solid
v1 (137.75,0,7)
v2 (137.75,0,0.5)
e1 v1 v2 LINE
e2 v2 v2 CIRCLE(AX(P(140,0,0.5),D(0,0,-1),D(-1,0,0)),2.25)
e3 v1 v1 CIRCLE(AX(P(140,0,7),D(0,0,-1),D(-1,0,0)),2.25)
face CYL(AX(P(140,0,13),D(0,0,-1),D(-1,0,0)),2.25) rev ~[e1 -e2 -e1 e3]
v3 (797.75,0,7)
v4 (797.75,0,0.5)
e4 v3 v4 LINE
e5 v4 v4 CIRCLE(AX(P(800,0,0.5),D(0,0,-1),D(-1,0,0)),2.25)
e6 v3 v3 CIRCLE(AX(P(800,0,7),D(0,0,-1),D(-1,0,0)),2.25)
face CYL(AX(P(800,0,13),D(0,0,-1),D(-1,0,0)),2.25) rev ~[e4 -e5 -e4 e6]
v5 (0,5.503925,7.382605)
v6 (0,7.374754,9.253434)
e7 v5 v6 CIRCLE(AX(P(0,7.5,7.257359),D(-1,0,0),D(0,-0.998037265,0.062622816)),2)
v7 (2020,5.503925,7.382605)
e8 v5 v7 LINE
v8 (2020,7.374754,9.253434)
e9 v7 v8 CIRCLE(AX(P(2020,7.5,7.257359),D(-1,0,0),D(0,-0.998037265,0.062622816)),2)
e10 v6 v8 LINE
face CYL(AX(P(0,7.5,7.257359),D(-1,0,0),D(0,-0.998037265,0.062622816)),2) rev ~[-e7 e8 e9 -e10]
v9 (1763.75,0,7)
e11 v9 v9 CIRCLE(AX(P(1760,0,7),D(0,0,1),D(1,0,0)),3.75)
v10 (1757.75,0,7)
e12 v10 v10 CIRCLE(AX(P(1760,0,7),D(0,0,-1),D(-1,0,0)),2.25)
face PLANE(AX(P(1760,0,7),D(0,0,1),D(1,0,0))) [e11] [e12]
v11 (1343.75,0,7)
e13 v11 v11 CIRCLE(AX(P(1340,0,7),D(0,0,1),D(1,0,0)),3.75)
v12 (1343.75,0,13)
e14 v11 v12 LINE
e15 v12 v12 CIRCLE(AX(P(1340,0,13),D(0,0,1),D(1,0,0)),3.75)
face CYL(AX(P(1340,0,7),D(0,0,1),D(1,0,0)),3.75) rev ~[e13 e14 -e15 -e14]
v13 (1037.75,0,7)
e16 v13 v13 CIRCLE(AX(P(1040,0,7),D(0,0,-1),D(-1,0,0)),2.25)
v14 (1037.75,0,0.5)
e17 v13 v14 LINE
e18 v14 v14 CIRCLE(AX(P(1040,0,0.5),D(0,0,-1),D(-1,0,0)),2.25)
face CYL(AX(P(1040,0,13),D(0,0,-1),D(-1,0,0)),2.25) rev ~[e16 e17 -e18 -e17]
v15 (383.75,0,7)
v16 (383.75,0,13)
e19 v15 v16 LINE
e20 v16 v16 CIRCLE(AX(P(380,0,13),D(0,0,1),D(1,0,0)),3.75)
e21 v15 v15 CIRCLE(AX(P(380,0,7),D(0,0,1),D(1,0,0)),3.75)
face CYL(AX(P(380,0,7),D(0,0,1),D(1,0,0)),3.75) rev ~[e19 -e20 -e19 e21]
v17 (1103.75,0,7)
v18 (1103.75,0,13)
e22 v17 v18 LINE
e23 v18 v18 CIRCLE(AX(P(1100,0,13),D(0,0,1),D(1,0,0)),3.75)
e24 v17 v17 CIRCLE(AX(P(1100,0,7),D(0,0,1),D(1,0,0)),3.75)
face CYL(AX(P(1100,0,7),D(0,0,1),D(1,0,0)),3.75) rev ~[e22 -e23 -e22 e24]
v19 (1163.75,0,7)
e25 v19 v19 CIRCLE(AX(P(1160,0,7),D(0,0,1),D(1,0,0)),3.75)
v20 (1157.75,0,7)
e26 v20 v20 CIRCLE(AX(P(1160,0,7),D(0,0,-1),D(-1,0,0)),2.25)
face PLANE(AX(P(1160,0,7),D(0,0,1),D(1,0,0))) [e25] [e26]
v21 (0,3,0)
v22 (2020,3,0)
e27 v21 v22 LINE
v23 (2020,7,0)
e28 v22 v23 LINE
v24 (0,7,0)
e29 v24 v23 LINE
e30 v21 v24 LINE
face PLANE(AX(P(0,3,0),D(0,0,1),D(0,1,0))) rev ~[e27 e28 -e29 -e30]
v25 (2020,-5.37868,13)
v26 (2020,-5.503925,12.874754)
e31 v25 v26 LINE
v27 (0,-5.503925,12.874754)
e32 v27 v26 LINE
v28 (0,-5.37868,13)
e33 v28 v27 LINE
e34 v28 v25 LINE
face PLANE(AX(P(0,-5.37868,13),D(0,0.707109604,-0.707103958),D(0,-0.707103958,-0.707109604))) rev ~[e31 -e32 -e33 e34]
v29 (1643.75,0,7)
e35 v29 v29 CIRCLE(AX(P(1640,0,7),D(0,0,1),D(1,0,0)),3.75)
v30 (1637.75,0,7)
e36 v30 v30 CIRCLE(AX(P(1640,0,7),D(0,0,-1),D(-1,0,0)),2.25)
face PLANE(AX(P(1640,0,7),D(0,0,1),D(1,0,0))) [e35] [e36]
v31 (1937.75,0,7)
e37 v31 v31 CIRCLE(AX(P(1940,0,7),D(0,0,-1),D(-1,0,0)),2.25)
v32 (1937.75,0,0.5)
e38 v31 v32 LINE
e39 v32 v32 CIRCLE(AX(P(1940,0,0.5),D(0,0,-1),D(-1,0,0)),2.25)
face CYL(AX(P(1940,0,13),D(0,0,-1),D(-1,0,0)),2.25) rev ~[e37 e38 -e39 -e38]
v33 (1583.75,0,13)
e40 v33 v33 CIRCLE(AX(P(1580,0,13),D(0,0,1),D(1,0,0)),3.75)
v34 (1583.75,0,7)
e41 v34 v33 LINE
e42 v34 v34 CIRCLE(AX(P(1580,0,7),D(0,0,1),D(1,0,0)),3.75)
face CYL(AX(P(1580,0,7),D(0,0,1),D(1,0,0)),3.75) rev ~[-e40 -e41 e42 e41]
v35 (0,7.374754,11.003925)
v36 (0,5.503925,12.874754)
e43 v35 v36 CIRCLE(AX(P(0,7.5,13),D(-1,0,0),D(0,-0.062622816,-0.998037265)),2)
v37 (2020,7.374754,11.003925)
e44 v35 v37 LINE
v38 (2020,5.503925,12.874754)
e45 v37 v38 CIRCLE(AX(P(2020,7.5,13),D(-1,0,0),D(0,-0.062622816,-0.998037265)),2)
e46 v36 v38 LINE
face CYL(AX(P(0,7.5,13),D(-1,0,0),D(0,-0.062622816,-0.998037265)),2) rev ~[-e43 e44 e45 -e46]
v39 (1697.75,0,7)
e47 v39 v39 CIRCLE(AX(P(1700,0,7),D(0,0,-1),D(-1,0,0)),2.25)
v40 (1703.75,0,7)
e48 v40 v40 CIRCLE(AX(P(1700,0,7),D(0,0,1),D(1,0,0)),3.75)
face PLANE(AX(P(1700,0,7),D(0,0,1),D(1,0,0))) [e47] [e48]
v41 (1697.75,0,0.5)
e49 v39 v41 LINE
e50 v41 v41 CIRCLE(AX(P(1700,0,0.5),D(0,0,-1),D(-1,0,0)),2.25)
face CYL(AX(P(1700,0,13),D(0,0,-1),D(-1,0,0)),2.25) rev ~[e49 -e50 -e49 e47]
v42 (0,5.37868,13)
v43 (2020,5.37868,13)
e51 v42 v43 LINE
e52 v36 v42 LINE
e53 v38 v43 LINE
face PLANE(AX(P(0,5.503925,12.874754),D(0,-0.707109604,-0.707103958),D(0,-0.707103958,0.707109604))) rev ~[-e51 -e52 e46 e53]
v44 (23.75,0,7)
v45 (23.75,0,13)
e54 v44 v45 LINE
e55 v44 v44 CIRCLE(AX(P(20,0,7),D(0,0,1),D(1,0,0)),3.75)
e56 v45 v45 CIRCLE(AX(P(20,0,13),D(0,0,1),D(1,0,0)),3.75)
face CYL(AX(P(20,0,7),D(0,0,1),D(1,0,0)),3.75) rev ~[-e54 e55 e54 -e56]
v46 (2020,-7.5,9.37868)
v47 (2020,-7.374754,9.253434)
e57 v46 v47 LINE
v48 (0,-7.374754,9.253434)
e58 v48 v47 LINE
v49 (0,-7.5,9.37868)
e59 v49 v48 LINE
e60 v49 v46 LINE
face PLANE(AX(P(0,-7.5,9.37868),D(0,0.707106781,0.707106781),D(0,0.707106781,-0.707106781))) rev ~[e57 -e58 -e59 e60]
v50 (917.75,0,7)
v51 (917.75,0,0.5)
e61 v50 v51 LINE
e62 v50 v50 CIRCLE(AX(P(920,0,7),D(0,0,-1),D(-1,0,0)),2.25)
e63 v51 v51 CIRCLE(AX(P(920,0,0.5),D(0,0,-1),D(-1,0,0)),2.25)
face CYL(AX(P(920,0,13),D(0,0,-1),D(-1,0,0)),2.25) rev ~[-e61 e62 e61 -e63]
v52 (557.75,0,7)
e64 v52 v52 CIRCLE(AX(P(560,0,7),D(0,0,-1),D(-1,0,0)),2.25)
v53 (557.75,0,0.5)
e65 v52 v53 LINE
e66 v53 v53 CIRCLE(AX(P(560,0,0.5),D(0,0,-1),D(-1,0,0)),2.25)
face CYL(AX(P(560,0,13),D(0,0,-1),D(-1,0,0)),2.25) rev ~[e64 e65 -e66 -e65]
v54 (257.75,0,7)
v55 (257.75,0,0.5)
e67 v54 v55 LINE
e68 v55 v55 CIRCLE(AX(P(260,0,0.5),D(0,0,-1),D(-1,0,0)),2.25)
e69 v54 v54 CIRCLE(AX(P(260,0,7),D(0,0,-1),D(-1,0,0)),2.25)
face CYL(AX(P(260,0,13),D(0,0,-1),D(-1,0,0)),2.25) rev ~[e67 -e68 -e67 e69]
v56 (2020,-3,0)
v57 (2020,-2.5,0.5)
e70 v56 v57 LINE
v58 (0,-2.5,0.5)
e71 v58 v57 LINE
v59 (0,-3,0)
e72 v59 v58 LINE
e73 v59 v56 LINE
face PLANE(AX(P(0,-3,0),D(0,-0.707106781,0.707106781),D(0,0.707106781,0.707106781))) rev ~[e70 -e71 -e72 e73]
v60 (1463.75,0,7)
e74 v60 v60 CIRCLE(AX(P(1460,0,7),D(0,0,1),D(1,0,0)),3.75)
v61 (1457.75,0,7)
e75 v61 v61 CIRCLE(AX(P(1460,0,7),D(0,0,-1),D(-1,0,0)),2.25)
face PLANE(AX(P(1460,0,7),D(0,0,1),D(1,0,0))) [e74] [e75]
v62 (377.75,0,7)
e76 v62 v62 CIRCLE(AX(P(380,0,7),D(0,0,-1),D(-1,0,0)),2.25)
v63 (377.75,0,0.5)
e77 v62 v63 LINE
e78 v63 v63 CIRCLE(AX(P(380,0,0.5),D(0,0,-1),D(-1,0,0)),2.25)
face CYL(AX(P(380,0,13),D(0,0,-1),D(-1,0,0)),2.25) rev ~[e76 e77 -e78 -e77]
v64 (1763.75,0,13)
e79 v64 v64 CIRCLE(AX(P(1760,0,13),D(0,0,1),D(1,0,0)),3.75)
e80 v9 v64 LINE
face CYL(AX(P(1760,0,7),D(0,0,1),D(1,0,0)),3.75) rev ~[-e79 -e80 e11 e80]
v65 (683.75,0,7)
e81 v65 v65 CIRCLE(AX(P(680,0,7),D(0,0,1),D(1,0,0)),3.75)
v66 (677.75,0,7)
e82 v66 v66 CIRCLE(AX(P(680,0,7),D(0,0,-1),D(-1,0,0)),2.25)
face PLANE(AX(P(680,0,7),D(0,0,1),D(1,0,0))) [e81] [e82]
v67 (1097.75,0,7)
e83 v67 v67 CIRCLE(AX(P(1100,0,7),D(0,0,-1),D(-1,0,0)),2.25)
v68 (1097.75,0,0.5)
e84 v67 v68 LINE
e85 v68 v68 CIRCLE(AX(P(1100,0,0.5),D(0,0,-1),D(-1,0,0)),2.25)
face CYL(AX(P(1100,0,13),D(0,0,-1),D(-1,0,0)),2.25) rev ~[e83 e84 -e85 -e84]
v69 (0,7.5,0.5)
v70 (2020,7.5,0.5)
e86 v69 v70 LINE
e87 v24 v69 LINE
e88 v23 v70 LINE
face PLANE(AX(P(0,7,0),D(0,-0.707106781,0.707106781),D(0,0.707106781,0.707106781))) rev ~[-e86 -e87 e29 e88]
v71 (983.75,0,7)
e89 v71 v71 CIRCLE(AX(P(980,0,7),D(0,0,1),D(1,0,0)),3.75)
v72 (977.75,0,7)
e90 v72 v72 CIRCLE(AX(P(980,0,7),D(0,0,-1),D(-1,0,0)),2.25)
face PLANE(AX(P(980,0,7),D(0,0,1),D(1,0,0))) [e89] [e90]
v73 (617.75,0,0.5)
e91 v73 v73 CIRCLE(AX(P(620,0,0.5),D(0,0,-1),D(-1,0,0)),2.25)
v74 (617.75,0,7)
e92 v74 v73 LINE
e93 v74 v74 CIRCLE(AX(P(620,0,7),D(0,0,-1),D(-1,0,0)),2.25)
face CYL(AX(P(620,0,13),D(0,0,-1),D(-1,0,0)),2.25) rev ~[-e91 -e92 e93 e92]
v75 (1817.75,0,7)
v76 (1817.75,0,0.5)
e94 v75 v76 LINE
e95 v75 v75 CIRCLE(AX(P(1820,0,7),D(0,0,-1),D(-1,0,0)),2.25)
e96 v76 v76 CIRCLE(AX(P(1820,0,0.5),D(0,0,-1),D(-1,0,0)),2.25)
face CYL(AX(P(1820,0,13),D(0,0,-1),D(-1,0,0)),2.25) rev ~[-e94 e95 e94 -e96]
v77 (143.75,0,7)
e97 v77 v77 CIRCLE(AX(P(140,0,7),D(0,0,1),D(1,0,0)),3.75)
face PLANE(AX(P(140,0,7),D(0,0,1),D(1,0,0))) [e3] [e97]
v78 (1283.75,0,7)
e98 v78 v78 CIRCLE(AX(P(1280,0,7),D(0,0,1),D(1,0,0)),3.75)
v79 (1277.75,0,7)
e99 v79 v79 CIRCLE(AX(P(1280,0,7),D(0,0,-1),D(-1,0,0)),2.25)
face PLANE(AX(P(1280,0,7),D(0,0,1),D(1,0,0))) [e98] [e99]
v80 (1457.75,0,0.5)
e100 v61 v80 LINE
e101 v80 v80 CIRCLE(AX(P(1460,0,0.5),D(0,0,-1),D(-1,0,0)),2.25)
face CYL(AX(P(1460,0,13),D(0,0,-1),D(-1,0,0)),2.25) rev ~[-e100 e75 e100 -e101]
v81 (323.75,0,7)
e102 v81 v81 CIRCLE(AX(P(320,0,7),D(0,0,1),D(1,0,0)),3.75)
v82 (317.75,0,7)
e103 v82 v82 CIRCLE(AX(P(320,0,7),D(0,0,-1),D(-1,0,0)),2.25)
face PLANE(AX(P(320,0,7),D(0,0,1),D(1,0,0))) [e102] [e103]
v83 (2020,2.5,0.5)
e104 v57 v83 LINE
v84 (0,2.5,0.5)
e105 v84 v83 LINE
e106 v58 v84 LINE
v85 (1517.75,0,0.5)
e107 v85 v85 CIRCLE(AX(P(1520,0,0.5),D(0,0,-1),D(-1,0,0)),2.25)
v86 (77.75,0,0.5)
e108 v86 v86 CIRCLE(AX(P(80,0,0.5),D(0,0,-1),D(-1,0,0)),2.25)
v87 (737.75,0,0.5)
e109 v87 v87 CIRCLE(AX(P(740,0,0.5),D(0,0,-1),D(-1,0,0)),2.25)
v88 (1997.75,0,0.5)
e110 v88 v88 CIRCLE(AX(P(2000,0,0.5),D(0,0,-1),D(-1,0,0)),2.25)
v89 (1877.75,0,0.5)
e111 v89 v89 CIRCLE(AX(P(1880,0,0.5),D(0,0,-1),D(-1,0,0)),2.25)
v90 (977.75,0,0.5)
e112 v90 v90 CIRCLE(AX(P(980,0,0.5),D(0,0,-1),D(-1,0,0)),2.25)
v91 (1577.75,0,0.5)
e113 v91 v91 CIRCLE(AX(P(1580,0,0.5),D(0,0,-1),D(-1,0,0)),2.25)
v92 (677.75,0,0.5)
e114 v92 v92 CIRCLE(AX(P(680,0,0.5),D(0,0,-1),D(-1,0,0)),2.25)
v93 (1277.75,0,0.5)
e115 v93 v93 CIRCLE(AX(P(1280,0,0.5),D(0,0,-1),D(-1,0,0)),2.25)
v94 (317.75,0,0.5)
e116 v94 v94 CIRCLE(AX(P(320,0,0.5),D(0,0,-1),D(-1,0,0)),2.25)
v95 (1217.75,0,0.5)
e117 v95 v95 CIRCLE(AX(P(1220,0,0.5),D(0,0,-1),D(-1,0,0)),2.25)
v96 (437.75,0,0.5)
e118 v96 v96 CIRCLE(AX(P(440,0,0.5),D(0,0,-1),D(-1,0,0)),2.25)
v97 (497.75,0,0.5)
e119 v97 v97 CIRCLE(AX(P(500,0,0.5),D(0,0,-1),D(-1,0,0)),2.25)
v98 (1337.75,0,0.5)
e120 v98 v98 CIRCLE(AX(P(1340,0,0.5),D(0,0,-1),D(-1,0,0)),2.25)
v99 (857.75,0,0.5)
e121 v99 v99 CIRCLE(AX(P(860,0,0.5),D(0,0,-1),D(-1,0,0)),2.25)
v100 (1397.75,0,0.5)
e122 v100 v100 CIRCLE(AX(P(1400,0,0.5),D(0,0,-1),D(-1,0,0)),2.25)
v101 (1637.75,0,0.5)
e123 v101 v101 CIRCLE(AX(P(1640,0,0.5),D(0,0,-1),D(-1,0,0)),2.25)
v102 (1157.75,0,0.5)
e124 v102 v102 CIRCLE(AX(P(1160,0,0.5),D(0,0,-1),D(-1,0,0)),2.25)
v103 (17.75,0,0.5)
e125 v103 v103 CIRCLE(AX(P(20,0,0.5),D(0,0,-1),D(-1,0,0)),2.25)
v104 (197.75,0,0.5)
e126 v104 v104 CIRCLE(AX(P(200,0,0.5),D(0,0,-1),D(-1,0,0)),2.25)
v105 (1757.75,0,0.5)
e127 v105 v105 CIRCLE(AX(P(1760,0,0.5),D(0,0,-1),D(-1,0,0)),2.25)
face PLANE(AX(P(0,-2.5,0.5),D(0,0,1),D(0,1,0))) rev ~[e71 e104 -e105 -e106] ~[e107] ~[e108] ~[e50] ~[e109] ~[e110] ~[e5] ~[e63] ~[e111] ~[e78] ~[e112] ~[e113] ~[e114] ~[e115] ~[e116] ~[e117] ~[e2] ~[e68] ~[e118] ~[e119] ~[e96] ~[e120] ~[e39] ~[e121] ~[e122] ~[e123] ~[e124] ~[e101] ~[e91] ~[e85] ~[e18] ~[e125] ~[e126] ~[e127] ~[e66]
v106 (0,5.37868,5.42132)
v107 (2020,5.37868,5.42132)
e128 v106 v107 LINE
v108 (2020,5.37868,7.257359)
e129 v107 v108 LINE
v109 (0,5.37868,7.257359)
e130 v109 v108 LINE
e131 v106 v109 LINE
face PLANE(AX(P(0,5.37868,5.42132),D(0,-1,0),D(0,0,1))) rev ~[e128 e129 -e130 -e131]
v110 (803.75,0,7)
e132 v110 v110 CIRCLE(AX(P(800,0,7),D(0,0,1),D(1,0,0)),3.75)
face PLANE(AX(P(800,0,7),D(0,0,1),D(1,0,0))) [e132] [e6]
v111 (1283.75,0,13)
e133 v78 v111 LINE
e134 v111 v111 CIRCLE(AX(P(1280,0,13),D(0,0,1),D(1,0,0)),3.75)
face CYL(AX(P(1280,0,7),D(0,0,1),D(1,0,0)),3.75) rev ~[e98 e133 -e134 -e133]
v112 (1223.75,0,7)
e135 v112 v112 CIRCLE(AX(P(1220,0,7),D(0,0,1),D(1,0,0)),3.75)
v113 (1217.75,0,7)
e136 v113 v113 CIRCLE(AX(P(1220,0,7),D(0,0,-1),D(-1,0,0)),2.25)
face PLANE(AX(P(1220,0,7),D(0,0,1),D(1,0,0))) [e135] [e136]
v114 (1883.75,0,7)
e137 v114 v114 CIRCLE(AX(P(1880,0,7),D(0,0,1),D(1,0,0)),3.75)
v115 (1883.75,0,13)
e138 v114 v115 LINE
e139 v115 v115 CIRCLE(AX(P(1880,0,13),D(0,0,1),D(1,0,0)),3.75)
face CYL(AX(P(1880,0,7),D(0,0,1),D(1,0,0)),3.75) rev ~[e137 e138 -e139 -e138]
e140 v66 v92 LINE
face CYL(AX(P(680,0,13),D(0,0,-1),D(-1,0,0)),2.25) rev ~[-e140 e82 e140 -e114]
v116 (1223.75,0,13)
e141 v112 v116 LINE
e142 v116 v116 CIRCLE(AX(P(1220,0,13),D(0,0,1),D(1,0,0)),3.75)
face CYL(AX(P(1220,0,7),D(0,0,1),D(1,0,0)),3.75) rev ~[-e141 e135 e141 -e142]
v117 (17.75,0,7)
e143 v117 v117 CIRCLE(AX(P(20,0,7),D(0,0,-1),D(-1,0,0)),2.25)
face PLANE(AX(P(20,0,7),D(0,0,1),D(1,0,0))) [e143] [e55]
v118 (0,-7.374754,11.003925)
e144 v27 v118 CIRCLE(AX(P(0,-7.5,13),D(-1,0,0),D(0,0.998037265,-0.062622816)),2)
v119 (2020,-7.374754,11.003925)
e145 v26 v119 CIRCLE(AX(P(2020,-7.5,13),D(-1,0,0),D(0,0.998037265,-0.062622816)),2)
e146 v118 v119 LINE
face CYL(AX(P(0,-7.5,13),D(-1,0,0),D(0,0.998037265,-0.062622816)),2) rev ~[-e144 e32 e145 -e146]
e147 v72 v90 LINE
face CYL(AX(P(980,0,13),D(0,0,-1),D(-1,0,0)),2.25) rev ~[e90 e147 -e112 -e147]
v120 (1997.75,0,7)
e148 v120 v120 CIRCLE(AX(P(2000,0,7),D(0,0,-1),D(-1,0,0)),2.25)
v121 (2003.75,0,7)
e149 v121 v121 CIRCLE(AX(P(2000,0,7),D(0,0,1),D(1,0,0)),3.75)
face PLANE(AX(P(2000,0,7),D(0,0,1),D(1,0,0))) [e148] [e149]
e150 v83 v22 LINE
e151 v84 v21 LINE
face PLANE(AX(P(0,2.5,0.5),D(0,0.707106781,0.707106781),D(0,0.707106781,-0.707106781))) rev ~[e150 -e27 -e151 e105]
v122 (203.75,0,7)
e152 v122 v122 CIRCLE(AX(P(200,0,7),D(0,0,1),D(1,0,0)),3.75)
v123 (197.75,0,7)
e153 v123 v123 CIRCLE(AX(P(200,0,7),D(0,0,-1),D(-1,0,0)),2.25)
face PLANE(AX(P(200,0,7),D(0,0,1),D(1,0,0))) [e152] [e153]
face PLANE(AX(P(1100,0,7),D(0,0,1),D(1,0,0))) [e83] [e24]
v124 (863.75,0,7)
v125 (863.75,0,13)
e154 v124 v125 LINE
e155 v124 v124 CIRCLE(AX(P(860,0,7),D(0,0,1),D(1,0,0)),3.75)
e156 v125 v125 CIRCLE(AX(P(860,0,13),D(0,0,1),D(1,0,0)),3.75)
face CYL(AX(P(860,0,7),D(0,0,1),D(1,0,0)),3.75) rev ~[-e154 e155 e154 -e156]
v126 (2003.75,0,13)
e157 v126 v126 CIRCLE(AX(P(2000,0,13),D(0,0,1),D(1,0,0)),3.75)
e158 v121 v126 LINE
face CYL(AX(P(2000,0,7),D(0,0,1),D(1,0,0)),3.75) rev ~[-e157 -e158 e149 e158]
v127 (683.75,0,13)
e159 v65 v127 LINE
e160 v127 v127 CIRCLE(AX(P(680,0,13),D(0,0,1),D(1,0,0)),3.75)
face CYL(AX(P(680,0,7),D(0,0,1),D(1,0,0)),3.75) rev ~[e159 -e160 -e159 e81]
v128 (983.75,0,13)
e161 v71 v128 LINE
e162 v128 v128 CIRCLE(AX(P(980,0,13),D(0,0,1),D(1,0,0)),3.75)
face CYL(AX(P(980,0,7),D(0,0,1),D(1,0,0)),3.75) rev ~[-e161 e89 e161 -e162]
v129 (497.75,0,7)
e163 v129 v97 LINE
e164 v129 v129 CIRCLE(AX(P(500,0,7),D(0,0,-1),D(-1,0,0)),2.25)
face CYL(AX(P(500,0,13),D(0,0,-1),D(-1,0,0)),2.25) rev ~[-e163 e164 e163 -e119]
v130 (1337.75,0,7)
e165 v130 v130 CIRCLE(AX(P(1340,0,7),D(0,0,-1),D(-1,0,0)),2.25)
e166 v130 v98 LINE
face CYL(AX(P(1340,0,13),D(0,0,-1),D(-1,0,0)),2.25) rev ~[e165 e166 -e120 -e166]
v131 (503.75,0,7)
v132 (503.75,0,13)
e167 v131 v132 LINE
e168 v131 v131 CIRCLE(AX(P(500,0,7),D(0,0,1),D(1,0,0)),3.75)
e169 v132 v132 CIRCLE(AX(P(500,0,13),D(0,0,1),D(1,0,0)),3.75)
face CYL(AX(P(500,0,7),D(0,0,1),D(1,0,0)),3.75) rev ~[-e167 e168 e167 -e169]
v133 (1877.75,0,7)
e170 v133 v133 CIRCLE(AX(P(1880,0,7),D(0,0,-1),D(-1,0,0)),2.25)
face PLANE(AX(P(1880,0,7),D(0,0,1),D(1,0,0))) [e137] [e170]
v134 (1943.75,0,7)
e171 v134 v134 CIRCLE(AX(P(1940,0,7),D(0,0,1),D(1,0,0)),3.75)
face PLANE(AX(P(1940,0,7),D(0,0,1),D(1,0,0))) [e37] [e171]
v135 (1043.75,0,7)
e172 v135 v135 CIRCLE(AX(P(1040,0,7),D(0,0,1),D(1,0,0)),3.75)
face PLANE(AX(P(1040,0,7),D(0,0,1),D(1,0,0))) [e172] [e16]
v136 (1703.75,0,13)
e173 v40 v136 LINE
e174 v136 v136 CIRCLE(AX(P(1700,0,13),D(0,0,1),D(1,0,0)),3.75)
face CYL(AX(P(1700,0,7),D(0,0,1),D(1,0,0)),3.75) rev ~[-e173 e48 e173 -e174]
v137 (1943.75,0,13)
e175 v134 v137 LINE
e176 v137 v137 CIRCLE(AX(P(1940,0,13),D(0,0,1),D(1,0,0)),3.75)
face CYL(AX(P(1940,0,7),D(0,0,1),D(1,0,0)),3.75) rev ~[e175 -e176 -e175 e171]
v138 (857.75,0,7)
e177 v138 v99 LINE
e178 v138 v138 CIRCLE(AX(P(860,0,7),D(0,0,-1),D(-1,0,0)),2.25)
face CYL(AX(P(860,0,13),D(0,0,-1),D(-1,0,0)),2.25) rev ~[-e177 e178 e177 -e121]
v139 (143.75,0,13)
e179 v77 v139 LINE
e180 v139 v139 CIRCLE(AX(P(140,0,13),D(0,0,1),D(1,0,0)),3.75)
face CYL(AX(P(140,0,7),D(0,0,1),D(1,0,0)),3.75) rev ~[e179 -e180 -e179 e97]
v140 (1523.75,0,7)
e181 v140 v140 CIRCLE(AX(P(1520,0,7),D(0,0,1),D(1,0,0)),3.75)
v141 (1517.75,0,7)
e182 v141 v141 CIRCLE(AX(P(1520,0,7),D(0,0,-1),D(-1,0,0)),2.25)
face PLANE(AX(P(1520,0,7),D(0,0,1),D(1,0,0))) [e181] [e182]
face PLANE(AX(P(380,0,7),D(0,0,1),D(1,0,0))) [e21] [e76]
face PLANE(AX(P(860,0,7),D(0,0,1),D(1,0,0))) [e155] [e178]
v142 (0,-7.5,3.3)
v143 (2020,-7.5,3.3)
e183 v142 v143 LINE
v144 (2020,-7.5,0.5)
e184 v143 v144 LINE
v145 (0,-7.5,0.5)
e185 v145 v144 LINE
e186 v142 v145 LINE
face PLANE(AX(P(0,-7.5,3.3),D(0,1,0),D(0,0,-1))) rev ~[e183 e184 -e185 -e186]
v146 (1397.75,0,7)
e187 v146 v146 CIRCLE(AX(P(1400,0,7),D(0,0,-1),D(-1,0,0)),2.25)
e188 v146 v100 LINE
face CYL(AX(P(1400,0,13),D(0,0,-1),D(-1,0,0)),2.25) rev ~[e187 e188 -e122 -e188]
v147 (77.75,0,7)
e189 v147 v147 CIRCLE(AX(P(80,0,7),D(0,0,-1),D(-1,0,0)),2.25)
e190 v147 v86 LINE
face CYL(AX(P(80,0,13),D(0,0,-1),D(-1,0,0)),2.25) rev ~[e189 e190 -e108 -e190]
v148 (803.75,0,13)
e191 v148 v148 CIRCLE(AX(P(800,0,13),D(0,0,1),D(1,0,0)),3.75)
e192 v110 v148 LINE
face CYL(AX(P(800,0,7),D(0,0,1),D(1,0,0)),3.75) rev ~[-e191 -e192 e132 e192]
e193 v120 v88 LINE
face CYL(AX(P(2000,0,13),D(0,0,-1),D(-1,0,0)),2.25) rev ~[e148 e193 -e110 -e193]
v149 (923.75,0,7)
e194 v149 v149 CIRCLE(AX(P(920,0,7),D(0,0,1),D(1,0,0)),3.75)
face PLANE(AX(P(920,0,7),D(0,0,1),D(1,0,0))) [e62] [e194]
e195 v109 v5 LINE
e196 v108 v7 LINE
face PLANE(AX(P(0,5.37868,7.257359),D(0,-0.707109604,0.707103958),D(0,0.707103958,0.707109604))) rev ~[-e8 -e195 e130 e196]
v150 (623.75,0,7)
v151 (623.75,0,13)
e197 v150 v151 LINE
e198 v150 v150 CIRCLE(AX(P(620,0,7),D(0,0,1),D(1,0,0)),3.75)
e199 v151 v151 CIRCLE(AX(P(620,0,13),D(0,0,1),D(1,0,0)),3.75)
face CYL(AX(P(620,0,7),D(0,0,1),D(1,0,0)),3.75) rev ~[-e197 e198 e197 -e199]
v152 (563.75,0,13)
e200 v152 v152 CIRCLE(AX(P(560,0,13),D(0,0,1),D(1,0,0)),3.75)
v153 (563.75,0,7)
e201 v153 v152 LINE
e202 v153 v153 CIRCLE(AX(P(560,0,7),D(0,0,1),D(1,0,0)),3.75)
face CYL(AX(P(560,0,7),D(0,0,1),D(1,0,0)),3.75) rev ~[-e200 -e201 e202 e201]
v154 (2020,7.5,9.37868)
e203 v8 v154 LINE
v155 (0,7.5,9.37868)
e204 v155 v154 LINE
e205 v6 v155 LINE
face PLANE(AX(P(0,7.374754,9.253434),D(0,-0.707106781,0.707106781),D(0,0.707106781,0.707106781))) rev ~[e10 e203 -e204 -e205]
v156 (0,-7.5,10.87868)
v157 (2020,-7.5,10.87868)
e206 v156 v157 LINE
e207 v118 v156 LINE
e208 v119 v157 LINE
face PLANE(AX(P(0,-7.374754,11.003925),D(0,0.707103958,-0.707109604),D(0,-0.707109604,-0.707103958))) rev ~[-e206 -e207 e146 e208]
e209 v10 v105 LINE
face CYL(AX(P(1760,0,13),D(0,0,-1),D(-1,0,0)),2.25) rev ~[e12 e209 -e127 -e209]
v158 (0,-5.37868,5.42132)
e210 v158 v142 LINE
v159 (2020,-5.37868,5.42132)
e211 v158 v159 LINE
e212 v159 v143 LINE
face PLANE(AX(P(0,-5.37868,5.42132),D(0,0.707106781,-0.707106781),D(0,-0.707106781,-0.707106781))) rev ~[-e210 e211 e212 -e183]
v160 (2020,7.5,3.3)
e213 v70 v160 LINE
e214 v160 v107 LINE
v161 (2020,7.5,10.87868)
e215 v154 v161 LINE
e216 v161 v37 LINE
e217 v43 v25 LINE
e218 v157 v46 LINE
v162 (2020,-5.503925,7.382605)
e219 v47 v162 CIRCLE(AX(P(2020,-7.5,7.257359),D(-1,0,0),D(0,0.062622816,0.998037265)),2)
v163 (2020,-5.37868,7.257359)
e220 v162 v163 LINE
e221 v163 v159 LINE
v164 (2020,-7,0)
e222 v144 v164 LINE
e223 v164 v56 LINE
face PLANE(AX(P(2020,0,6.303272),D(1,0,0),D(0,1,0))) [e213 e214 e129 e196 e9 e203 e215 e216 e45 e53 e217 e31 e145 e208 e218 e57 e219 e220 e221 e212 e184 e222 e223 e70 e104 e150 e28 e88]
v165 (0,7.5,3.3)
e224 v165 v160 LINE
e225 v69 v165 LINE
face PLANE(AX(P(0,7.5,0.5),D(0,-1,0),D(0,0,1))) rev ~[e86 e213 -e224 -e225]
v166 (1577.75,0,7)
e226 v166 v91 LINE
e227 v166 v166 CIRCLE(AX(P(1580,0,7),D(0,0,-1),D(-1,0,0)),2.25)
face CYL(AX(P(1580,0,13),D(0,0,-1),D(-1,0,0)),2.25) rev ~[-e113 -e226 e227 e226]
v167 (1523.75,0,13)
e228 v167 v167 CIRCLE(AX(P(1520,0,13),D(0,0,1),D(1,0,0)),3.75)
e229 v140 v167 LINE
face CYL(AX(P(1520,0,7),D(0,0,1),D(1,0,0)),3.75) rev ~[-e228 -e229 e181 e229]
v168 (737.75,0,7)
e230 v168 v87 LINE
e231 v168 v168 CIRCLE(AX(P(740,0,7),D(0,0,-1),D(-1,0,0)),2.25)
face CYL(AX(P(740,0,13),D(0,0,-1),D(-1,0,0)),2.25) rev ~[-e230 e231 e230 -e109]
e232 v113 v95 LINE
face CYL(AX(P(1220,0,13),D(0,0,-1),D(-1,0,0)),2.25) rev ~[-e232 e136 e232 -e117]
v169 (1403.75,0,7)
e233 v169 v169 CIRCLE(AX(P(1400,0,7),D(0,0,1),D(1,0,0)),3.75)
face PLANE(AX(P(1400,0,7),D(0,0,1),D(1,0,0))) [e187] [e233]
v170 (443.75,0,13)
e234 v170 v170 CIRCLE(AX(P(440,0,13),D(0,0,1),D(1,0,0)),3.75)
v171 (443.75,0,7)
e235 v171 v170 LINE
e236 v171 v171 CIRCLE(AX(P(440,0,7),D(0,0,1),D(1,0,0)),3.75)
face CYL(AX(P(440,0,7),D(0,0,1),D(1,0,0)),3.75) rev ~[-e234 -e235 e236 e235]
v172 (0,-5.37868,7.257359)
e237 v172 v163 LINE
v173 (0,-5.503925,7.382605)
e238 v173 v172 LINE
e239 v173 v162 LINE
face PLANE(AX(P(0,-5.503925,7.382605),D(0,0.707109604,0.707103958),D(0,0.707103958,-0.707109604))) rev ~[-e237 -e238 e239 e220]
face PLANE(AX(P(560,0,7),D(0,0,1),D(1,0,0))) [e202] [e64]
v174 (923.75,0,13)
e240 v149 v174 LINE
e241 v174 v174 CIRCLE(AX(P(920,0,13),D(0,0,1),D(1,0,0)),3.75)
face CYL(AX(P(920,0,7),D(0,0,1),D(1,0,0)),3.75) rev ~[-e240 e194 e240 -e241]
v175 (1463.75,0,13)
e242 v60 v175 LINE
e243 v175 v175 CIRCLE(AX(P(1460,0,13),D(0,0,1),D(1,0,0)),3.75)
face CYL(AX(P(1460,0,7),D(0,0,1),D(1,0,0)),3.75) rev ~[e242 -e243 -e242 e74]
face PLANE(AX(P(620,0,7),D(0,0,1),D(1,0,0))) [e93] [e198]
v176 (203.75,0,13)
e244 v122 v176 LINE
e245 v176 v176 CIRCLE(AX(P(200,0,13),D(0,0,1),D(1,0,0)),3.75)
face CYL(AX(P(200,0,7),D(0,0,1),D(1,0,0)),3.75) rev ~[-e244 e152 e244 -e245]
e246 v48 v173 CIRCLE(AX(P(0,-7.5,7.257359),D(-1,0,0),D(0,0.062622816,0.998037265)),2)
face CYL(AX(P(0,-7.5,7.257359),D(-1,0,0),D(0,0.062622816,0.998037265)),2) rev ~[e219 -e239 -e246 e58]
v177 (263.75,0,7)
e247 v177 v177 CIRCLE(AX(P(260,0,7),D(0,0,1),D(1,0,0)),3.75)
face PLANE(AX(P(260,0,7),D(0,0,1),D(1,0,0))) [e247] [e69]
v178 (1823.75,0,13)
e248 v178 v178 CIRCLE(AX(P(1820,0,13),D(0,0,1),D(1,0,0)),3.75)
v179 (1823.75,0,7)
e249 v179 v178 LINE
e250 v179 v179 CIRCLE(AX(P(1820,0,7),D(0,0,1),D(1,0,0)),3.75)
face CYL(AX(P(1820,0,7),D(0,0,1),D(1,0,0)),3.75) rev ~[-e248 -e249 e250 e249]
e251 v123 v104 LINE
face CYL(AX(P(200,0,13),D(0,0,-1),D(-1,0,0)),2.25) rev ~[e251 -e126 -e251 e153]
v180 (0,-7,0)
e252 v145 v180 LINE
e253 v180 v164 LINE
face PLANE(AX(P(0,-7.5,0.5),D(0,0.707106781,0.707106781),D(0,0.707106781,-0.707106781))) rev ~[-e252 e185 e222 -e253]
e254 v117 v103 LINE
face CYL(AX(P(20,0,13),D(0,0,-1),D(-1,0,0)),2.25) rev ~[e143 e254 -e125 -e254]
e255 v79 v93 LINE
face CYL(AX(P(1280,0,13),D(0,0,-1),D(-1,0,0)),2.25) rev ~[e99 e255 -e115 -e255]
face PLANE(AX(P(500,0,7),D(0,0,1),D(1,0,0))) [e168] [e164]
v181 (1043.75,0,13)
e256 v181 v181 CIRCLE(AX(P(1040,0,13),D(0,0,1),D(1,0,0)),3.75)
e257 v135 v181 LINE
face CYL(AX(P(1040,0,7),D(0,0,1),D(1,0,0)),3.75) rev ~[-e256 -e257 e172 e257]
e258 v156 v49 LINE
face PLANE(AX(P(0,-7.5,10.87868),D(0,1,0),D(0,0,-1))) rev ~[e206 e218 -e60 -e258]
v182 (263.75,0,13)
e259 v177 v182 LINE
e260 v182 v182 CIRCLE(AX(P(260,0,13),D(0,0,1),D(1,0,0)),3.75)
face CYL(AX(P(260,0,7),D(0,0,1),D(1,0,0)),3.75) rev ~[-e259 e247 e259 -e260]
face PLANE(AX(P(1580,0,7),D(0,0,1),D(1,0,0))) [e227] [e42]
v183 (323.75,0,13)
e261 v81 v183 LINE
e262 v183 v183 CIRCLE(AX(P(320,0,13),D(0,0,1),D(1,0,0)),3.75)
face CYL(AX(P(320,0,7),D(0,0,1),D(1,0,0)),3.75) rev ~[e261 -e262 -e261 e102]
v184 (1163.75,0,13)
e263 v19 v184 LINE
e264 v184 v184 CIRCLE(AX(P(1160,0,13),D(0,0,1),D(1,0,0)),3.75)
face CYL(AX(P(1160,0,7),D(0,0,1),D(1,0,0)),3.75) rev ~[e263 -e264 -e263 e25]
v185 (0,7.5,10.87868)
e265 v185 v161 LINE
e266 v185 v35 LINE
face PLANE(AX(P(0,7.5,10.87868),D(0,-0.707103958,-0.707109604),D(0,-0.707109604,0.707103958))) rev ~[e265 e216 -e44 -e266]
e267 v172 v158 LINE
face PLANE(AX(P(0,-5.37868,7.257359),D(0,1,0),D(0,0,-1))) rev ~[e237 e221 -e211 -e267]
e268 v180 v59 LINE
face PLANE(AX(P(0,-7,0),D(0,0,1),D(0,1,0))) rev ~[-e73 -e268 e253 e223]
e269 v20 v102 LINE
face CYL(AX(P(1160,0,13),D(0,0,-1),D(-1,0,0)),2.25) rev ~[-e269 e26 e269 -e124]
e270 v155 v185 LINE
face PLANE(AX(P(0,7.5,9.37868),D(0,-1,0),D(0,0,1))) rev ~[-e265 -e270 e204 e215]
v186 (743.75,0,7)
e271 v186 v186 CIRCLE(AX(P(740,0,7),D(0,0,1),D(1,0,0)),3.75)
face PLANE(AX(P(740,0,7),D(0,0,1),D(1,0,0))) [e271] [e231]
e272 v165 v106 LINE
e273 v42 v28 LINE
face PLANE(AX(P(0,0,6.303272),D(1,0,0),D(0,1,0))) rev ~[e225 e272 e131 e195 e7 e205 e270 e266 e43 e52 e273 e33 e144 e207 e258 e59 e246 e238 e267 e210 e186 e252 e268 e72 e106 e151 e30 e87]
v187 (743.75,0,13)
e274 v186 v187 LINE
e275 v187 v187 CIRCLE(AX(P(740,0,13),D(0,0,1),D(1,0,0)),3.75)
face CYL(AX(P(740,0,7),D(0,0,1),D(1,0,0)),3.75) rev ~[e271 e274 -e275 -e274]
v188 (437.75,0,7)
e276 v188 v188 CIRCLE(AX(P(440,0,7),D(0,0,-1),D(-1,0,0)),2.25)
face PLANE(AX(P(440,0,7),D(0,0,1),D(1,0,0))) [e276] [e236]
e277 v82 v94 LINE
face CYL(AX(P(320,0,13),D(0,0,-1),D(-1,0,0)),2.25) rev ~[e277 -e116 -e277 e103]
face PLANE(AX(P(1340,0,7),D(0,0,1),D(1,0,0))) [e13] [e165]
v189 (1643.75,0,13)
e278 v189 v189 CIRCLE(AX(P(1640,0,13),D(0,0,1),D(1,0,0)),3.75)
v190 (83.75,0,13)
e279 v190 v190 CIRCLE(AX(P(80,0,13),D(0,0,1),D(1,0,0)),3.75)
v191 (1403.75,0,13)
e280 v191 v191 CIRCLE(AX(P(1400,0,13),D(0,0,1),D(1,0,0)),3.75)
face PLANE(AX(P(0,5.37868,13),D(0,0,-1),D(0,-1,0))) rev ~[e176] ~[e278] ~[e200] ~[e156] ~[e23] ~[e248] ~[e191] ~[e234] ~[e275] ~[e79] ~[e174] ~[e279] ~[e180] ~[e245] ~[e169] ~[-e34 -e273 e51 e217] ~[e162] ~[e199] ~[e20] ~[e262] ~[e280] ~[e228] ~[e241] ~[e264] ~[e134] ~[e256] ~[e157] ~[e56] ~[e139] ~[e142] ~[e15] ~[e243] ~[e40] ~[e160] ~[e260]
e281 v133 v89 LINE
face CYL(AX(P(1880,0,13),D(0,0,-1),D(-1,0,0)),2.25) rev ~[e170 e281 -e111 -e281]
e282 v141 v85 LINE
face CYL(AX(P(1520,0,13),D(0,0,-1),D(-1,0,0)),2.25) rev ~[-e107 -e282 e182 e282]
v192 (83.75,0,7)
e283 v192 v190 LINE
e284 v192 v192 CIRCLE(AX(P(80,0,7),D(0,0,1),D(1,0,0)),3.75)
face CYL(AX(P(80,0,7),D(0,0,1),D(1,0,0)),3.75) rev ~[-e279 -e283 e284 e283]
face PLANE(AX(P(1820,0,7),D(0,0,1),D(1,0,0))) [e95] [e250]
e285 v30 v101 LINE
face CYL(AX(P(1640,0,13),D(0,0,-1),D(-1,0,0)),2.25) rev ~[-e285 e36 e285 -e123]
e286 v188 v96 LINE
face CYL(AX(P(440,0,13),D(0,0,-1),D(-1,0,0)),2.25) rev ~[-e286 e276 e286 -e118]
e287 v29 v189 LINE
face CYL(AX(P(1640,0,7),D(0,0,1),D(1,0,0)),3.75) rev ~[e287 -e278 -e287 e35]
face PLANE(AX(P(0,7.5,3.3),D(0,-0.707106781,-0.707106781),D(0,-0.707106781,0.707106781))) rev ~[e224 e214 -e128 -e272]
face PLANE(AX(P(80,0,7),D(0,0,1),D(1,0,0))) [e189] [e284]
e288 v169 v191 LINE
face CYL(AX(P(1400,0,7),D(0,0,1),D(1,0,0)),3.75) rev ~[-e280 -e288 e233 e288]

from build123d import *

# Parameters (mm, degrees)
F1_DEPTH       = 2020
F3_D           = 4.5
F3_CBORE_D     = 7.5
F3_CBORE_DEPTH = 6


with BuildPart() as f1:
    # F0 (on Right) → F1 (new body)
    with BuildSketch(Plane.YZ):
        with BuildLine():
            Line((-2.5, 0.5), (0, 0.5))
            Line((0, 0.5), (2.5, 0.5))
            Line((2.5, 0.5), (3, 0))
            Line((3, 0), (7, 0))
            Line((7, 0), (7.5, 0.5))
            Line((7.5, 0.5), (7.5, 3.3))
            Line((7.5, 3.3), (5.37868, 5.42132))
            Line((5.37868, 5.42132), (5.37868, 7.257359))
            Line((5.37868, 7.257359), (5.503925, 7.382605))
            ThreePointArc((5.503925, 7.382605), (6.085786, 8.671573), (7.374754, 9.253434))
            Line((7.374754, 9.253434), (7.5, 9.37868))
            Line((7.5, 9.37868), (7.5, 10.87868))
            Line((7.5, 10.87868), (7.374754, 11.003925))
            ThreePointArc((7.374754, 11.003925), (6.085786, 11.585786), (5.503925, 12.874754))
            Line((5.503925, 12.874754), (5.37868, 13))
            Line((5.37868, 13), (0, 13))
            Line((0, 13), (-5.37868, 13))
            Line((-5.37868, 13), (-5.503925, 12.874754))
            ThreePointArc((-5.503925, 12.874754), (-6.085786, 11.585786), (-7.374754, 11.003925))
            Line((-7.374754, 11.003925), (-7.5, 10.87868))
            Line((-7.5, 10.87868), (-7.5, 9.37868))
            Line((-7.5, 9.37868), (-7.374754, 9.253434))
            ThreePointArc((-7.374754, 9.253434), (-6.085786, 8.671573), (-5.503925, 7.382605))
            Line((-5.503925, 7.382605), (-5.37868, 7.257359))
            Line((-5.37868, 7.257359), (-5.37868, 5.42132))
            Line((-5.37868, 5.42132), (-7.5, 3.3))
            Line((-7.5, 3.3), (-7.5, 0.5))
            Line((-7.5, 0.5), (-7, 0))
            Line((-7, 0), (-3, 0))
            Line((-3, 0), (-2.5, 0.5))
        make_face()
    extrude(amount=F1_DEPTH)

    # F3 (through all)
    with Locations(Plane.XY.offset(13)):
        with Locations((20, 0), (80, 0), (140, 0), (200, 0), (260, 0), (320, 0), (380, 0), (440, 0), (500, 0), (560, 0), (620, 0), (680, 0), (740, 0), (800, 0), (860, 0), (920, 0), (980, 0), (1040, 0), (1100, 0), (1160, 0), (1220, 0), (1280, 0), (1340, 0), (1400, 0), (1460, 0), (1520, 0), (1580, 0), (1640, 0), (1700, 0), (1760, 0), (1820, 0), (1880, 0), (1940, 0), (2000, 0)):
            CounterBoreHole(F3_D / 2, F3_CBORE_D / 2, F3_CBORE_DEPTH)


solid = f1.part
